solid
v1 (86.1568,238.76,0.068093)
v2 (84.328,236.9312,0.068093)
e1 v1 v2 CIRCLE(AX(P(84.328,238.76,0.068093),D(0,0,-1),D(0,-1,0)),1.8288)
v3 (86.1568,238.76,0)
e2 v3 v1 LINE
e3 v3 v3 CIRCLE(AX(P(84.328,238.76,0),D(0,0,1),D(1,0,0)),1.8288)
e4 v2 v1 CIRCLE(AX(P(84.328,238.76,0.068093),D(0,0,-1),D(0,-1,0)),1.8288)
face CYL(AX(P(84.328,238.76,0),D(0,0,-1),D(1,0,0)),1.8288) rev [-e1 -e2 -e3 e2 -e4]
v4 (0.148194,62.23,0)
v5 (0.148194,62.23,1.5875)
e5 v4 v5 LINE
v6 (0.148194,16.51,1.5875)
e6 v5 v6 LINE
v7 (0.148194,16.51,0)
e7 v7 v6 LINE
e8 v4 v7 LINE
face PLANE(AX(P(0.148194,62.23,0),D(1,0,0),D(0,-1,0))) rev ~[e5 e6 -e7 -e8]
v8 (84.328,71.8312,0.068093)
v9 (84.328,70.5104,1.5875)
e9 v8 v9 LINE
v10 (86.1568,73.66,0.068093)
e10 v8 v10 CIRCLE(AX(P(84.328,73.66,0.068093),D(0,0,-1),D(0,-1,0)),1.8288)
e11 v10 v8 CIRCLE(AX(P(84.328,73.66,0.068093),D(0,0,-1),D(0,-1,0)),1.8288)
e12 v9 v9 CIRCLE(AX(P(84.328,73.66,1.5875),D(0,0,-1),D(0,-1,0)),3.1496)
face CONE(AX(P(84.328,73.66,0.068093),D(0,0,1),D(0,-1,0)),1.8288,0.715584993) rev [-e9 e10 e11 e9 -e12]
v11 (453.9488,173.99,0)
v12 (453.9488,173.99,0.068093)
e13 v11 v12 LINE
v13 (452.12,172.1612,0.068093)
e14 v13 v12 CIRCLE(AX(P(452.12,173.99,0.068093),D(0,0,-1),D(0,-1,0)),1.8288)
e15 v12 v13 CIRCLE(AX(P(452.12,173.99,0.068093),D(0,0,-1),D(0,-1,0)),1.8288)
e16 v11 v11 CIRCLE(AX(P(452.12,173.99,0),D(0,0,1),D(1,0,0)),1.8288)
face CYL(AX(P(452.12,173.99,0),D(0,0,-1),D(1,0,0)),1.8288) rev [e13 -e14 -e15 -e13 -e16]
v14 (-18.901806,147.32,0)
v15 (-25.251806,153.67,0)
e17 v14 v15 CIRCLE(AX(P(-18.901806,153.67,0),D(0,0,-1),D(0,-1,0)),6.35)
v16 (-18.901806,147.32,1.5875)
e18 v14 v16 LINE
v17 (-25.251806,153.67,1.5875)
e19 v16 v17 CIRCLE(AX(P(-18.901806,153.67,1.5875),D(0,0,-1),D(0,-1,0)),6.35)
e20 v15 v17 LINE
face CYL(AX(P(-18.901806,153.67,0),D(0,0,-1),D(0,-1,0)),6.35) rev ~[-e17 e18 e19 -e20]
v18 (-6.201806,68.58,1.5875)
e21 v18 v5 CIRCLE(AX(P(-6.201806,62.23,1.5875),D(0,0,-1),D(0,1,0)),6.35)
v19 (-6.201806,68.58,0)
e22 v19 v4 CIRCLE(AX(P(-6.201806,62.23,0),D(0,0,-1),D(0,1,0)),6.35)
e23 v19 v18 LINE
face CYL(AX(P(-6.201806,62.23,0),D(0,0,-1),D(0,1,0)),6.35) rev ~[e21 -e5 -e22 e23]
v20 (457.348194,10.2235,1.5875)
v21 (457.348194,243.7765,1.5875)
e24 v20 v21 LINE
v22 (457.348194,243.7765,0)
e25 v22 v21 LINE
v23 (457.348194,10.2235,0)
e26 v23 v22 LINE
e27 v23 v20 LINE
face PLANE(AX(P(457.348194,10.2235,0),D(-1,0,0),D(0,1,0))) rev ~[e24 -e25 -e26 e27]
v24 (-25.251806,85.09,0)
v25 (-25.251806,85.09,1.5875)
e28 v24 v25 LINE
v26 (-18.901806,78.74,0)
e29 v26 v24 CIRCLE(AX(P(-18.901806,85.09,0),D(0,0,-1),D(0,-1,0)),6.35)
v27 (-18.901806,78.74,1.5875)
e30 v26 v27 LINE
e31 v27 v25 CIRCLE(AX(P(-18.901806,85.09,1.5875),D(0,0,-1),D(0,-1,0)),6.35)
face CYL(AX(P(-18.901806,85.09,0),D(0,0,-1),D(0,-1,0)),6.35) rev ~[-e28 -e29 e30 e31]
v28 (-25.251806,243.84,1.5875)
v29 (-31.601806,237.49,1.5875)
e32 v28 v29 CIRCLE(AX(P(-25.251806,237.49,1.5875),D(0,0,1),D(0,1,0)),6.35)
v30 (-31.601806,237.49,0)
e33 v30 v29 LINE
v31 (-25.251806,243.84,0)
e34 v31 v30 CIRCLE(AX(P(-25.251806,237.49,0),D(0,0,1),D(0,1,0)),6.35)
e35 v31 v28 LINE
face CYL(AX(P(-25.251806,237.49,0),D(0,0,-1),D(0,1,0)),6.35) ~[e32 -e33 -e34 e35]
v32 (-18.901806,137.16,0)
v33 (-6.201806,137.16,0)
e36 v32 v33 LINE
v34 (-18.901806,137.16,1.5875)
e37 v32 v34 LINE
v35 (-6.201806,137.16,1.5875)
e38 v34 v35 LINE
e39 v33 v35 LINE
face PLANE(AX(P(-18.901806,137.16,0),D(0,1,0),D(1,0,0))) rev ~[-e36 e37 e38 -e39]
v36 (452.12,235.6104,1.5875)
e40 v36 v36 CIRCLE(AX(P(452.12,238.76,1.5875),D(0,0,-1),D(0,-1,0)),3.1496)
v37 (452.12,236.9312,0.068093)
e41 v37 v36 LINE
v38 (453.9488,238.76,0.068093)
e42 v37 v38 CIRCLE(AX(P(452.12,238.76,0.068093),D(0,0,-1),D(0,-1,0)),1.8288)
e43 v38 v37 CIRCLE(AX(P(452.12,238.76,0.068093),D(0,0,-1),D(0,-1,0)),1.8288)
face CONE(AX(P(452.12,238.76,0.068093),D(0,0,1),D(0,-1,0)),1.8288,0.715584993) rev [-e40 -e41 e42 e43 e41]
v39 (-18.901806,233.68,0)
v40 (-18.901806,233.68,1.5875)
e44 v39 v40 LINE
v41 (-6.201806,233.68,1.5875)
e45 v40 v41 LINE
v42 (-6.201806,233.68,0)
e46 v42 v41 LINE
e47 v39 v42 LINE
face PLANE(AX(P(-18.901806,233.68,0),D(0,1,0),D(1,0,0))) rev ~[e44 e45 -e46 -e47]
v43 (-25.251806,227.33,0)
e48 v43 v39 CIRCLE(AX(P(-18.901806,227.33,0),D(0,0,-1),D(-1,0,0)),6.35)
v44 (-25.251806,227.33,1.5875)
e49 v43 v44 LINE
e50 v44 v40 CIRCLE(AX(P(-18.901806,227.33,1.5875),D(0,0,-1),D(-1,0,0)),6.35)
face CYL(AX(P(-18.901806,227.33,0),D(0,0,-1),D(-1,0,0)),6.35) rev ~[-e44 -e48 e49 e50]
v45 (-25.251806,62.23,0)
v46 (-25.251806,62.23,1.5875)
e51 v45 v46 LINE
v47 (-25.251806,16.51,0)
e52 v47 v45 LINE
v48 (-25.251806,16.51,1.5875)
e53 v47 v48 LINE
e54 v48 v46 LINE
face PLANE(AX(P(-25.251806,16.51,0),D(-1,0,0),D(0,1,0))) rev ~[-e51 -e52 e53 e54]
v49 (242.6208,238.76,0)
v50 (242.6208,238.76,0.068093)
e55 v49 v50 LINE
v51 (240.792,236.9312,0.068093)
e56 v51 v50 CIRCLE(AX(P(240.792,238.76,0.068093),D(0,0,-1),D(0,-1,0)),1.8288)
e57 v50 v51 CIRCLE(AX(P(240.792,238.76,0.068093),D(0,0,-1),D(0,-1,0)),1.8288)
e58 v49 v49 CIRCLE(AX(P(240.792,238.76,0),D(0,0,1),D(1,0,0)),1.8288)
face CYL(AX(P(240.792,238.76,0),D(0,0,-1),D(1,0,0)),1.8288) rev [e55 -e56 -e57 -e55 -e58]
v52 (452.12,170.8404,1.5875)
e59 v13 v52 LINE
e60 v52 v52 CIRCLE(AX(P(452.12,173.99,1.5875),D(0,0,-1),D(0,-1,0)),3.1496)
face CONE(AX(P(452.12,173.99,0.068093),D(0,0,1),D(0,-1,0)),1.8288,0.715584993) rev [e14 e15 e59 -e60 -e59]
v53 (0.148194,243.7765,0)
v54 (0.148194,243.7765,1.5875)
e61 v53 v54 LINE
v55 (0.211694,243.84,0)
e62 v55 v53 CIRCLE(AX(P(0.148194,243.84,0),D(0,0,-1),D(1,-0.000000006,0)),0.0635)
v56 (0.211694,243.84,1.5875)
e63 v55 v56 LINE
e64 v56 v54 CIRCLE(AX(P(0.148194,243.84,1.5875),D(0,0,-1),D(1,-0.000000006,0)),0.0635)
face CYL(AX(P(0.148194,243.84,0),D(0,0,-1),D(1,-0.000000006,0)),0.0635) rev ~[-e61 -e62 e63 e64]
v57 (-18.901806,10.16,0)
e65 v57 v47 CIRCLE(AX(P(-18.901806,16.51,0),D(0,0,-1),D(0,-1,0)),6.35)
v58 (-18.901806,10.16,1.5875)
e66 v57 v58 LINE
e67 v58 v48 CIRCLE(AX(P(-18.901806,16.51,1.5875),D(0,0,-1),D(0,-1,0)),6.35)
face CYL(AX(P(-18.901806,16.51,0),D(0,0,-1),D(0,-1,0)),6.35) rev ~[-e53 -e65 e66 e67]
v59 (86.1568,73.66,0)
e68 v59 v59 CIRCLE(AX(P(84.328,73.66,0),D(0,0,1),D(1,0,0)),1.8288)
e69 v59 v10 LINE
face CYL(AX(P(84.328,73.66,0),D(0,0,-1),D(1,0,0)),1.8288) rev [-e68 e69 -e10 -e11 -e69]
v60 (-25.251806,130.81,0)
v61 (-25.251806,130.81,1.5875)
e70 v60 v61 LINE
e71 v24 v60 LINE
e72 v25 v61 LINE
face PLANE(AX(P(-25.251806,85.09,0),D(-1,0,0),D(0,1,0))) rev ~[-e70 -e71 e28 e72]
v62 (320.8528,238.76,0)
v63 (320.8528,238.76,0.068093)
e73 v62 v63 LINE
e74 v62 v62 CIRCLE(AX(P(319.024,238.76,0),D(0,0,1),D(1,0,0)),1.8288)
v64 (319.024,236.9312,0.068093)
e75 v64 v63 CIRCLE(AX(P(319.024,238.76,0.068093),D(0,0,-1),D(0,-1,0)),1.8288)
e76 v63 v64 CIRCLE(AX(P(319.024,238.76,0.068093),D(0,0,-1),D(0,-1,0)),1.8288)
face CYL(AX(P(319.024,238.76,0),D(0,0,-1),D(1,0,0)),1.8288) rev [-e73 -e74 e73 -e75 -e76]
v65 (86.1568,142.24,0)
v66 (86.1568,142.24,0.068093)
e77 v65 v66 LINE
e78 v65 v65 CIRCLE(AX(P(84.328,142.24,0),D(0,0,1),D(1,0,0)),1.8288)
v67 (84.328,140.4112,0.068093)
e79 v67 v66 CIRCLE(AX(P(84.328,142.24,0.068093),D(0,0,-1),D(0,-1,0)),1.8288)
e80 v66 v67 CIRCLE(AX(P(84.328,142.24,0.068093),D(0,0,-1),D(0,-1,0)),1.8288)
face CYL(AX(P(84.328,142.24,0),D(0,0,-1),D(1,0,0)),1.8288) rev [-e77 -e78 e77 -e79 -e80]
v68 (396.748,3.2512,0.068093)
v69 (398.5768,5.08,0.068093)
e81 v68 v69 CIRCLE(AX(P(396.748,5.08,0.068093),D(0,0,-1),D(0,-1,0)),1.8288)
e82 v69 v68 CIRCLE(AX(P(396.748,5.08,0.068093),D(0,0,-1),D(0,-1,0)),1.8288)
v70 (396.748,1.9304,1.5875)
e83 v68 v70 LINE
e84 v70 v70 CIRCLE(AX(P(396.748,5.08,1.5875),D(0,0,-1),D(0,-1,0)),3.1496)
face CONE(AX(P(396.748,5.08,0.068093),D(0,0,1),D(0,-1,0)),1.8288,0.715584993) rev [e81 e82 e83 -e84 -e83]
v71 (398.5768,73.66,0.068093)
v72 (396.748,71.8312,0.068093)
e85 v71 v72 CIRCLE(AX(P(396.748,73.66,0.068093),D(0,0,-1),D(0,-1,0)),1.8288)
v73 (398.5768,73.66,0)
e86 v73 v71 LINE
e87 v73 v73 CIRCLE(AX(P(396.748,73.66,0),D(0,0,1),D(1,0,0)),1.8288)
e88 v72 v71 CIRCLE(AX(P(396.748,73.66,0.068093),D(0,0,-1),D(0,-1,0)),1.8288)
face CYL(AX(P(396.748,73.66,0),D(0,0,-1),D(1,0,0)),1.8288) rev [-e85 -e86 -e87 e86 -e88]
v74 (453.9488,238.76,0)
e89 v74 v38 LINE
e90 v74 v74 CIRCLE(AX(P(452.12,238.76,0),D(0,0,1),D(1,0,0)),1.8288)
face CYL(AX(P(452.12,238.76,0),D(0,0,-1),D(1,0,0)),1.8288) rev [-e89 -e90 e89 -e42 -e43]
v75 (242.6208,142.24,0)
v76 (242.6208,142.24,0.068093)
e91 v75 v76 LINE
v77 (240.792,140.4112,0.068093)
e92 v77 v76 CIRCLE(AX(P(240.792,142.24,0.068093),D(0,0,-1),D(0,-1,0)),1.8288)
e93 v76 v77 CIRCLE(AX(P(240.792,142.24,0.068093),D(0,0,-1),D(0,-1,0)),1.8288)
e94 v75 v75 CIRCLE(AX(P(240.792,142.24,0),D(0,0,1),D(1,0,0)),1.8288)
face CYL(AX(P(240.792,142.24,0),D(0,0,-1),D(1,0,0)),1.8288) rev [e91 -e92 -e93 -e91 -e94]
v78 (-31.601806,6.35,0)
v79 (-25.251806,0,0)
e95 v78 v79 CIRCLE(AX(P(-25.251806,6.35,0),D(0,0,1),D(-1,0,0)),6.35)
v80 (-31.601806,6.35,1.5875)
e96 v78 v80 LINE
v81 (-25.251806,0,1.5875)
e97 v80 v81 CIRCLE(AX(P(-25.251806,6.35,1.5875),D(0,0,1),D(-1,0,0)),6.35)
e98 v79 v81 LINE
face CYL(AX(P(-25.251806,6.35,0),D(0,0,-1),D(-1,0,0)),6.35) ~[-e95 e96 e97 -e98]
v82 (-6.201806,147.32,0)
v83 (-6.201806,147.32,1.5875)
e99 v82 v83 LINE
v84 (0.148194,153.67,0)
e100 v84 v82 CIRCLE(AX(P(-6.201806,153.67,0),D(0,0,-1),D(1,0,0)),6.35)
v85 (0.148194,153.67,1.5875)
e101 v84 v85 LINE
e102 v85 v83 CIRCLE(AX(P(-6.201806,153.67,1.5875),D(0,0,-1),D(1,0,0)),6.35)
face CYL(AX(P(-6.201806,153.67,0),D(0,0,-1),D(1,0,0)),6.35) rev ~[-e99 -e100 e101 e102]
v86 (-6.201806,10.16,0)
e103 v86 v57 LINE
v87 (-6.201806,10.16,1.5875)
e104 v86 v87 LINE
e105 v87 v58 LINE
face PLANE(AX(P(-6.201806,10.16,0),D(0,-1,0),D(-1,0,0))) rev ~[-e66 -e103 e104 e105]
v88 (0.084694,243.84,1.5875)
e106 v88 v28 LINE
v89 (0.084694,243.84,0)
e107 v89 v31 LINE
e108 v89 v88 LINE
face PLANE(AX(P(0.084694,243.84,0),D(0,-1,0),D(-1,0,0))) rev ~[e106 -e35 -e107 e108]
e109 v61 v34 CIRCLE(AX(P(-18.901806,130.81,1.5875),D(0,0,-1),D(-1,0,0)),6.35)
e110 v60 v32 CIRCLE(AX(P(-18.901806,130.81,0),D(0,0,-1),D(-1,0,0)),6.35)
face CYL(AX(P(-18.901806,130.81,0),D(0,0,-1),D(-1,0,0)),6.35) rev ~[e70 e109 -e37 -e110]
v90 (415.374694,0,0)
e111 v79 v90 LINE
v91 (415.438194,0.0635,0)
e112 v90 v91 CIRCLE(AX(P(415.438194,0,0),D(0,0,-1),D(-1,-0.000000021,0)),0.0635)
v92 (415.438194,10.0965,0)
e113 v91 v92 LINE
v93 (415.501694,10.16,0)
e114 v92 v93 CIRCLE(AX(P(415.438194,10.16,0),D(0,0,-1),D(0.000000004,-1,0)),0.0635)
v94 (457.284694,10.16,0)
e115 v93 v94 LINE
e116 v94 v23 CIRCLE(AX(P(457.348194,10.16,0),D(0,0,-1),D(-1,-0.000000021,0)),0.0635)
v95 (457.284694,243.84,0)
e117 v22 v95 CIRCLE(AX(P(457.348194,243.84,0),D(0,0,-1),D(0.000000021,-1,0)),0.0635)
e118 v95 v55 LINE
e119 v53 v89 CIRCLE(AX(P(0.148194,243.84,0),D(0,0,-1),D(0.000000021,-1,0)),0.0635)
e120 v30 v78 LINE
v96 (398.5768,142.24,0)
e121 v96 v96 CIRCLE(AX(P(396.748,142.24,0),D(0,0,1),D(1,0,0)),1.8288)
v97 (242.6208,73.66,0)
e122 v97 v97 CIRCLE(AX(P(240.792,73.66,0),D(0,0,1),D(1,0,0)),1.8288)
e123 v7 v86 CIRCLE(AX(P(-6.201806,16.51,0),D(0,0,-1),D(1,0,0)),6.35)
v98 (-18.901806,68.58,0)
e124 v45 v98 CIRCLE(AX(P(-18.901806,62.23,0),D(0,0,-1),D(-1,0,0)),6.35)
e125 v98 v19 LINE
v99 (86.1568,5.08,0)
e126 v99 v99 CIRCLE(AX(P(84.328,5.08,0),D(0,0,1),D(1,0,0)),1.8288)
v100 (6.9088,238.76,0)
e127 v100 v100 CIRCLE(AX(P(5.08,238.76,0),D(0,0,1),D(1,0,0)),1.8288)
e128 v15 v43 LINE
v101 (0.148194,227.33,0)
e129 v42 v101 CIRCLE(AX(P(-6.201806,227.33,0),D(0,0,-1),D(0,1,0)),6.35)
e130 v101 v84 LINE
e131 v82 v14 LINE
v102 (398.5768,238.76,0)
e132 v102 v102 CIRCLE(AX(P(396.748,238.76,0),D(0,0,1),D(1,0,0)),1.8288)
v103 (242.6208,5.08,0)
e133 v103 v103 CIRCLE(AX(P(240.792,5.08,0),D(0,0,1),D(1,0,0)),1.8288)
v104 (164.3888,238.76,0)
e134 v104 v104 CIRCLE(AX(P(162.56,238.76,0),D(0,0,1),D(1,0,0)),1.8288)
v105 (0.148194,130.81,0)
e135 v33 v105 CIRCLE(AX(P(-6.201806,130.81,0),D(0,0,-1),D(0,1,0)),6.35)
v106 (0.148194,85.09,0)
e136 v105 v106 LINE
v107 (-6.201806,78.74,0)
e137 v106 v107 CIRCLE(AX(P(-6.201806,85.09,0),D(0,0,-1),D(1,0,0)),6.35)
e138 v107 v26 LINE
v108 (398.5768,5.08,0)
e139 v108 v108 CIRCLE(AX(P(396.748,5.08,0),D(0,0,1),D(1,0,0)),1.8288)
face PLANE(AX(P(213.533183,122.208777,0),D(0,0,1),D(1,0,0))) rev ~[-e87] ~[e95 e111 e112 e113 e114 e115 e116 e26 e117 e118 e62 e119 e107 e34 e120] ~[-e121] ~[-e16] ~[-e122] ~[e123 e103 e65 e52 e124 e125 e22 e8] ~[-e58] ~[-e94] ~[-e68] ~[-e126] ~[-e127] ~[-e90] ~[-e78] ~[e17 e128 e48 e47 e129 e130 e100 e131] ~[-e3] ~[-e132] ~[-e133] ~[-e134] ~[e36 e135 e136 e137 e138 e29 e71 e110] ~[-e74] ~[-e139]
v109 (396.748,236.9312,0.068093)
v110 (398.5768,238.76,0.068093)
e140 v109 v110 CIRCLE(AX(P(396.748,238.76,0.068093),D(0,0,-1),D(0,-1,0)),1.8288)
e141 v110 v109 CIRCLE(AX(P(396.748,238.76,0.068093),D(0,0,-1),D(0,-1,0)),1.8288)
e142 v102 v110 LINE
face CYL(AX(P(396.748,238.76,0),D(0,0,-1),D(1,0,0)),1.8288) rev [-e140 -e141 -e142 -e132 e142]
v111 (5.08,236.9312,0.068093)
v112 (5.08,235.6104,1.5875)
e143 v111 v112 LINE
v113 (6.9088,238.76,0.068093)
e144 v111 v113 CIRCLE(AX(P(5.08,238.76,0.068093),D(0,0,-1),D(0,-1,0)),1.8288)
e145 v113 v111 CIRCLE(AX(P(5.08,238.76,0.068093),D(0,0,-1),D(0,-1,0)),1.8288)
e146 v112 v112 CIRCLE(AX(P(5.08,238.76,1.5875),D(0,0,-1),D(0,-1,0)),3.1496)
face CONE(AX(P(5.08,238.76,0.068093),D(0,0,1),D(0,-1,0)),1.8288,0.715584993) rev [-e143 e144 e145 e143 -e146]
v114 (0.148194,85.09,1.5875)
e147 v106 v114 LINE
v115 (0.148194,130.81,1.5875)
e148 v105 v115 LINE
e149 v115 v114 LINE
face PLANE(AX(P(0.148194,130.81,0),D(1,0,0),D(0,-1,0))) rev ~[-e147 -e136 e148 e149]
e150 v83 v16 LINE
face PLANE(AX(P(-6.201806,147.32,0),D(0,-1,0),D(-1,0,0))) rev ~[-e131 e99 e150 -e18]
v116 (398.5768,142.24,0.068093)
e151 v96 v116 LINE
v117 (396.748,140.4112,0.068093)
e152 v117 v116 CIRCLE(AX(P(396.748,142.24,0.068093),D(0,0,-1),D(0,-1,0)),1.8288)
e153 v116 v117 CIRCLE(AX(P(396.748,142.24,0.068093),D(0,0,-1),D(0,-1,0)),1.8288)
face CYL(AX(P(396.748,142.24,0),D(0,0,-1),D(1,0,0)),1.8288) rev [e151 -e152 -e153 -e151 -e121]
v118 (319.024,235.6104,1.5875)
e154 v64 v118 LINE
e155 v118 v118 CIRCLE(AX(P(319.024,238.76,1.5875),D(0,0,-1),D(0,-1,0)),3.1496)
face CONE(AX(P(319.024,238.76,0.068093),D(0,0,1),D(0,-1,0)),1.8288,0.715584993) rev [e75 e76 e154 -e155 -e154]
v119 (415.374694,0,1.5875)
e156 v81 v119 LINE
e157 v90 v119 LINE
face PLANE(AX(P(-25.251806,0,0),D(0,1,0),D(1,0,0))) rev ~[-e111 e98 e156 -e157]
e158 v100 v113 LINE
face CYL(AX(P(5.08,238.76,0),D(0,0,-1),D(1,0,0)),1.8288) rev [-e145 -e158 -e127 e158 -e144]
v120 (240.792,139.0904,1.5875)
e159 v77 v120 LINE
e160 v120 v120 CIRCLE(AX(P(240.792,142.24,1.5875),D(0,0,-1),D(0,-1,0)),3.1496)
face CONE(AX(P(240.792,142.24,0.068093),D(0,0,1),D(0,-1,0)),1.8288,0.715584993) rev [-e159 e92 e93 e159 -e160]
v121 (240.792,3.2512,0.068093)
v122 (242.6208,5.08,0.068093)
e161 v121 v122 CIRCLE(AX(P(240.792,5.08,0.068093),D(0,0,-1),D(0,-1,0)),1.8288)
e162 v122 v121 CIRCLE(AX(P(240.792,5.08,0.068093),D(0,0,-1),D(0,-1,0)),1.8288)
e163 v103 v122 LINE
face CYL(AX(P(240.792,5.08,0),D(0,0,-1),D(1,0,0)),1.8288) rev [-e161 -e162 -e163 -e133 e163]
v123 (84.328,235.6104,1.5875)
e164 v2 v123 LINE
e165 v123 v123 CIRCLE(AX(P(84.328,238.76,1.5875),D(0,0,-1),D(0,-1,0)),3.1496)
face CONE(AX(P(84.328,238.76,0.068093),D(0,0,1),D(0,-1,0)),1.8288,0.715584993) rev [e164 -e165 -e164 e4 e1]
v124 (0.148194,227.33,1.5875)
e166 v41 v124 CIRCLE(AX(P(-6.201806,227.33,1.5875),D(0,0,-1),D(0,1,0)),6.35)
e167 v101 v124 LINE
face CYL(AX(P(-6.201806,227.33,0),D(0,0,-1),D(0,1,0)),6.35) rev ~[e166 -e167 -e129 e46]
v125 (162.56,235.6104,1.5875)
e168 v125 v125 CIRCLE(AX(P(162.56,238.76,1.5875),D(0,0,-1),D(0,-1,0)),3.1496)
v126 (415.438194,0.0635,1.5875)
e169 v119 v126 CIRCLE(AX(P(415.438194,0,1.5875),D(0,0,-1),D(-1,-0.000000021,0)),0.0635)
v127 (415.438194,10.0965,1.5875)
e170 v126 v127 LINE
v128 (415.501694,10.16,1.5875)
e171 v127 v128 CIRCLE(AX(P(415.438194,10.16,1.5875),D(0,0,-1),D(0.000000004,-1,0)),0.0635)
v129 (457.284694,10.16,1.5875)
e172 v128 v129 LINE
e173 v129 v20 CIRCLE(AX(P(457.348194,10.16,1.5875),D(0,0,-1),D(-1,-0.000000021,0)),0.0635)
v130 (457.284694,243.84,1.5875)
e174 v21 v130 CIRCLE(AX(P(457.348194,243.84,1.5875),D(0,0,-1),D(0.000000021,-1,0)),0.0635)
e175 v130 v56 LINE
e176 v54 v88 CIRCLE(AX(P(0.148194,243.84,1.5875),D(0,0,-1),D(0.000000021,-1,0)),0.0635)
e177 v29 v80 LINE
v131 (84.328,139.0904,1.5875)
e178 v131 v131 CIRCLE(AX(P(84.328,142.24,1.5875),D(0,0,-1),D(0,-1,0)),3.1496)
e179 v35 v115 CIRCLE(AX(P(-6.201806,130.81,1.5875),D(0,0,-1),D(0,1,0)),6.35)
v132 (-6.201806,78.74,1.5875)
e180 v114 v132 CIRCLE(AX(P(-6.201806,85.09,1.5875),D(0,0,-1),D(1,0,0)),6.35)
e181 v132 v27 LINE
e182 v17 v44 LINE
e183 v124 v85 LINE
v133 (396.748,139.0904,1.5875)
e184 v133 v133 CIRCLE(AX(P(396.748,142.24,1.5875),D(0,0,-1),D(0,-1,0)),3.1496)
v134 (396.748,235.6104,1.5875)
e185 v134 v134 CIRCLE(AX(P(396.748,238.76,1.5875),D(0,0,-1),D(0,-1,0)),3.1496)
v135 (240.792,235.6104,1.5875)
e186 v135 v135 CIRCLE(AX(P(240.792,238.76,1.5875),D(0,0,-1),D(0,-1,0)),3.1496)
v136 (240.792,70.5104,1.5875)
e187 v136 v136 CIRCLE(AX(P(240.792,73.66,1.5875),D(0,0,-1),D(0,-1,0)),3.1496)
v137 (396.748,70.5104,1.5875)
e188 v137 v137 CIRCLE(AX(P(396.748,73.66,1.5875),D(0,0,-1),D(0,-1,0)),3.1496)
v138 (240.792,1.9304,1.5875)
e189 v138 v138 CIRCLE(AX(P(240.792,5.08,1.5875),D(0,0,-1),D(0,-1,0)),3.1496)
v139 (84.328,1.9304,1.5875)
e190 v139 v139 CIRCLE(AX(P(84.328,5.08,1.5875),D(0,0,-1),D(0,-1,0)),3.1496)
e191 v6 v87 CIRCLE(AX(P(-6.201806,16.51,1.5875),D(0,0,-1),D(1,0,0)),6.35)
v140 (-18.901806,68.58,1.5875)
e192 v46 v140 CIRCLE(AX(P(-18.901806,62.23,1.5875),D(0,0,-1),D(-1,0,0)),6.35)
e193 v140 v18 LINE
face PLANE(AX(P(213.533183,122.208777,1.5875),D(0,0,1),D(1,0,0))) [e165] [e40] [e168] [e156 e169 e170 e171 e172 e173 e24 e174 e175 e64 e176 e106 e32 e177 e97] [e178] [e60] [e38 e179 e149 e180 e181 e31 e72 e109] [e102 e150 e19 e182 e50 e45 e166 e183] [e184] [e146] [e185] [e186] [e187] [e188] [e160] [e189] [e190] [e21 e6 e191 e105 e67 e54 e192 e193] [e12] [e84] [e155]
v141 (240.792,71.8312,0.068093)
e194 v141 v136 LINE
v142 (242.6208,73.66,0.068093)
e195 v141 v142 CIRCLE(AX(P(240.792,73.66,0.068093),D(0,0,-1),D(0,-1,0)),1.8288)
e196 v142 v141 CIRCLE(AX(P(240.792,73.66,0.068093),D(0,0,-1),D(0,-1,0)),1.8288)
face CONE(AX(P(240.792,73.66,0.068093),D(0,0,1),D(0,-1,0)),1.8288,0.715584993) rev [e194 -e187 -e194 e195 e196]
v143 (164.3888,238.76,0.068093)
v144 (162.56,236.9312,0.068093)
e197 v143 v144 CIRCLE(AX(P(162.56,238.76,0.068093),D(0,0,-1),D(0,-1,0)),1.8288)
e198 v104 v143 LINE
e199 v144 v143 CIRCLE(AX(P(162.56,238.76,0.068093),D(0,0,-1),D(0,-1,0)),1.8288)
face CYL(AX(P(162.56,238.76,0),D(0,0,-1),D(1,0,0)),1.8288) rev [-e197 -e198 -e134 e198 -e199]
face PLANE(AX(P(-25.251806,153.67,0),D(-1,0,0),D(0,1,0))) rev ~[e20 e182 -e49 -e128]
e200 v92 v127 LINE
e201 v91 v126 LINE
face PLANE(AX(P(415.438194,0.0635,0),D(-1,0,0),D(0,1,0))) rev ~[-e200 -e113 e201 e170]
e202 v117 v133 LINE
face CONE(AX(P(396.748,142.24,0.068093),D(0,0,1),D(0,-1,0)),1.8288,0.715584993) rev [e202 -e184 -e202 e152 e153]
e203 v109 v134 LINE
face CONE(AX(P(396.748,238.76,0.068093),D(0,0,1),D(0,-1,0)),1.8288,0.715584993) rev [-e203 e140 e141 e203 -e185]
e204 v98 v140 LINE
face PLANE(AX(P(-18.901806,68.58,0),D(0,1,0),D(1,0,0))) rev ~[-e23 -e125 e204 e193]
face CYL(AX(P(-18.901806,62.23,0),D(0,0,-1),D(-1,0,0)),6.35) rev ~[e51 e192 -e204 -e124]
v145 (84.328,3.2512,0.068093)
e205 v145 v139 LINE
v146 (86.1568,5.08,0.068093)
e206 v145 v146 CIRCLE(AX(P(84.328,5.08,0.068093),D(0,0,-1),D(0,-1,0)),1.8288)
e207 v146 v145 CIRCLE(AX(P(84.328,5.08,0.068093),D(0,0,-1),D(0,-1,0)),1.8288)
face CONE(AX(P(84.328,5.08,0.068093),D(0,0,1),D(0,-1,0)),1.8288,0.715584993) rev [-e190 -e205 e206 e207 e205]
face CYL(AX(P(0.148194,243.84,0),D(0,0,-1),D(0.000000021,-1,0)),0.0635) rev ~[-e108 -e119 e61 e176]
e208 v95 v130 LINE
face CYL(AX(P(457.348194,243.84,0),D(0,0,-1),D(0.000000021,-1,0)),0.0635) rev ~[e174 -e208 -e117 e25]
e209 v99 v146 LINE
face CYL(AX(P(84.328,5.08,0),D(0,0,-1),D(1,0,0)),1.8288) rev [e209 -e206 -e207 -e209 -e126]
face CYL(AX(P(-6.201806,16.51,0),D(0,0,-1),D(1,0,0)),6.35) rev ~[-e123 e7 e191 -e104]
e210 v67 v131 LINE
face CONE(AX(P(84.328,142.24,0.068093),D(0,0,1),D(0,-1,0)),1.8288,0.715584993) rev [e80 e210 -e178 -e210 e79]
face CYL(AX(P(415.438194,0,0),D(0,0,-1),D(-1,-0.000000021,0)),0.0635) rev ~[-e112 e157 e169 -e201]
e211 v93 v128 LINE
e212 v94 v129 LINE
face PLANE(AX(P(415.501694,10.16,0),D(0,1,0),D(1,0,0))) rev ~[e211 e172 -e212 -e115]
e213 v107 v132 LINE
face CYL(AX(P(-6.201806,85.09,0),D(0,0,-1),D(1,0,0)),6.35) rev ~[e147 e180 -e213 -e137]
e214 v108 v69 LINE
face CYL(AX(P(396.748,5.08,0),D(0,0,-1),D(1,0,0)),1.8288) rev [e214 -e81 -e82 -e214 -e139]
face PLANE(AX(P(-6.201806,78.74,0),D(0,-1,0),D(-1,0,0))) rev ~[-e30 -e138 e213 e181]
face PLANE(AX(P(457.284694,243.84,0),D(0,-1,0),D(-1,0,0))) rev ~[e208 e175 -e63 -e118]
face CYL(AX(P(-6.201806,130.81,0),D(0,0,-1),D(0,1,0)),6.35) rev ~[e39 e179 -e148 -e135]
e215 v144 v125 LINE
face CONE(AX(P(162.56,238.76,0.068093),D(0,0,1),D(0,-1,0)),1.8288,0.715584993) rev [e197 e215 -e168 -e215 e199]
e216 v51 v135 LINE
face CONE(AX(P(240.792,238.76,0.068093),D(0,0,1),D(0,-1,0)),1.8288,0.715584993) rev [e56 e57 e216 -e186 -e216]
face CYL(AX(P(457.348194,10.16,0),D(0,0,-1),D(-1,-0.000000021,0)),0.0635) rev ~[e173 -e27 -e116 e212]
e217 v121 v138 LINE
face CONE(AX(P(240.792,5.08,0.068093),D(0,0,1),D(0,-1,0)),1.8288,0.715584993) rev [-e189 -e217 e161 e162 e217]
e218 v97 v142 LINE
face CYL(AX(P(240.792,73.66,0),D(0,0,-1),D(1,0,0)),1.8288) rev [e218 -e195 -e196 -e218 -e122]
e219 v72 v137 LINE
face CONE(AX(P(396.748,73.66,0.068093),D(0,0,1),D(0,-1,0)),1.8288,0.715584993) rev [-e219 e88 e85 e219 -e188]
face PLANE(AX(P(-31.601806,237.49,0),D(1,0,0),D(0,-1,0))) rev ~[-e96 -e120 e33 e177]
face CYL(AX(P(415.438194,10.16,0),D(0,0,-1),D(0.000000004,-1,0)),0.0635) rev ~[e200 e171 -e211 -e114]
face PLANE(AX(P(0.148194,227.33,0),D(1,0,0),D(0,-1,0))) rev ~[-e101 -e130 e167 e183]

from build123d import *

# Parameters (mm, degrees)
MODEL_R                                       = 1.8288
BOSS_EXTRUDE2_DEPTH                           = 1.5875
CSK_FOR_6_FLAT_HEAD_MACHINE_SCREW2_AT_2_COUNT = 2
CSK_FOR_6_FLAT_HEAD_MACHINE_SCREW2_AT_2_PITCH = 79.248
CSK_FOR_6_FLAT_HEAD_MACHINE_SCREW2_AT_3_COUNT = 2
CSK_FOR_6_FLAT_HEAD_MACHINE_SCREW2_AT_3_PITCH = 157.48
CSK_FOR_6_FLAT_HEAD_MACHINE_SCREW2_AT_4_COUNT = 2
CSK_FOR_6_FLAT_HEAD_MACHINE_SCREW2_AT_4_PITCH = 235.712
CSK_FOR_6_FLAT_HEAD_MACHINE_SCREW2_AT_5_COUNT = 2
CSK_FOR_6_FLAT_HEAD_MACHINE_SCREW2_AT_5_PITCH = 313.944
CSK_FOR_6_FLAT_HEAD_MACHINE_SCREW2_AT_6_COUNT = 2
CSK_FOR_6_FLAT_HEAD_MACHINE_SCREW2_AT_6_PITCH = 391.668
CSK_FOR_6_FLAT_HEAD_MACHINE_SCREW2_AT_7_COUNT = 2
CSK_FOR_6_FLAT_HEAD_MACHINE_SCREW2_AT_7_PITCH = 447.04
CSK_FOR_6_FLAT_HEAD_MACHINE_SCREW2_AT_8_COUNT = 2
CSK_FOR_6_FLAT_HEAD_MACHINE_SCREW2_AT_8_PITCH = 451.707775558
CSK_FOR_6_FLAT_HEAD_MACHINE_SCREW2_AT_9_COUNT = 2
CSK_FOR_6_FLAT_HEAD_MACHINE_SCREW2_AT_9_PITCH = 403.385588022
CSK_FOR_6_FLAT_HEAD_MACHINE_SCREW2_AT_1_COUNT = 2
CSK_FOR_6_FLAT_HEAD_MACHINE_SCREW2_AT_1_PITCH = 425.043329819
CSK_FOR_6_FLAT_HEAD_MACHINE_SCREW2_2_COUNT    = 2
CSK_FOR_6_FLAT_HEAD_MACHINE_SCREW2_2_PITCH    = 456.08131361
CSK_FOR_6_FLAT_HEAD_MACHINE_SCREW2_3_COUNT    = 2
CSK_FOR_6_FLAT_HEAD_MACHINE_SCREW2_3_PITCH    = 331.913376266
CSK_FOR_6_FLAT_HEAD_MACHINE_SCREW2_4_COUNT    = 2
CSK_FOR_6_FLAT_HEAD_MACHINE_SCREW2_4_PITCH    = 287.78143954
CSK_FOR_6_FLAT_HEAD_MACHINE_SCREW2_5_COUNT    = 2
CSK_FOR_6_FLAT_HEAD_MACHINE_SCREW2_5_PITCH    = 254.708180756
CSK_FOR_6_FLAT_HEAD_MACHINE_SCREW2_6_COUNT    = 2
CSK_FOR_6_FLAT_HEAD_MACHINE_SCREW2_6_PITCH    = 124.885371057
CSK_FOR_6_FLAT_HEAD_MACHINE_SCREW2_7_COUNT    = 2
CSK_FOR_6_FLAT_HEAD_MACHINE_SCREW2_7_PITCH    = 183.134528432
CSK_FOR_6_FLAT_HEAD_MACHINE_SCREW2_8_COUNT    = 2
CSK_FOR_6_FLAT_HEAD_MACHINE_SCREW2_8_PITCH    = 246.752077811


with BuildPart() as part:
    # Model → Boss-Extrude2 (new body)
    with BuildSketch(Plane.XY):
        with BuildLine():
            Line((-25.251805612, 0), (0.148194388, 0))
            Line((0.148194388, 0), (415.374694388, 0))
            ThreePointArc((415.374694388, 0), (415.393293107, 0.044901281), (415.438194388, 0.0635))
            Line((415.438194388, 0.0635), (415.438194388, 10.0965))
            ThreePointArc((415.438194388, 10.0965), (415.393293107, 10.204901281), (415.501694388, 10.16))
            Line((415.501694388, 10.16), (457.284694388, 10.16))
            ThreePointArc((457.284694388, 10.16), (457.303293107, 10.204901281), (457.348194388, 10.2235))
            Line((457.348194388, 10.2235), (457.348194388, 243.7765))
            ThreePointArc((457.348194388, 243.7765), (457.303293107, 243.795098719), (457.284694388, 243.84))
            Line((457.284694388, 243.84), (0.211694388, 243.84))
            ThreePointArc((0.211694388, 243.84), (0.193095668, 243.795098719), (0.148194388, 243.7765))
            ThreePointArc((0.148194388, 243.7765), (0.103293107, 243.795098719), (0.084694388, 243.84))
            Line((0.084694388, 243.84), (-25.251805612, 243.84))
            ThreePointArc((-25.251805612, 243.84), (-29.741933673, 241.980128061), (-31.601805612, 237.49))
            Line((-31.601805612, 237.49), (-31.601805612, 6.35))
            ThreePointArc((-31.601805612, 6.35), (-29.741933673, 1.859871939), (-25.251805612, 0))
        make_face()
        with Locations((84.328, 5.08)):
            Circle(MODEL_R, mode=Mode.SUBTRACT)
        with BuildLine():
            Line((-18.901805612, 68.58), (-6.201805612, 68.58))
            ThreePointArc((-6.201805612, 68.58), (-1.711677552, 66.720128061), (0.148194388, 62.23))
            Line((0.148194388, 62.23), (0.148194388, 16.51))
            ThreePointArc((0.148194388, 16.51), (-1.711677552, 12.019871939), (-6.201805612, 10.16))
            Line((-6.201805612, 10.16), (-18.901805612, 10.16))
            ThreePointArc((-18.901805612, 10.16), (-23.391933673, 12.019871939), (-25.251805612, 16.51))
            Line((-25.251805612, 16.51), (-25.251805612, 62.23))
            ThreePointArc((-25.251805612, 62.23), (-23.391933673, 66.720128061), (-18.901805612, 68.58))
        make_face(mode=Mode.SUBTRACT)
        with Locations((84.328, 73.66)):
            Circle(MODEL_R, mode=Mode.SUBTRACT)
        with BuildLine():
            Line((-18.901805612, 137.16), (-6.201805612, 137.16))
            ThreePointArc((-6.201805612, 137.16), (-1.711677552, 135.300128061), (0.148194388, 130.81))
            Line((0.148194388, 130.81), (0.148194388, 85.09))
            ThreePointArc((0.148194388, 85.09), (-1.711677552, 80.599871939), (-6.201805612, 78.74))
            Line((-6.201805612, 78.74), (-18.901805612, 78.74))
            ThreePointArc((-18.901805612, 78.74), (-23.391933673, 80.599871939), (-25.251805612, 85.09))
            Line((-25.251805612, 85.09), (-25.251805612, 130.81))
            ThreePointArc((-25.251805612, 130.81), (-23.391933673, 135.300128061), (-18.901805612, 137.16))
        make_face(mode=Mode.SUBTRACT)
        with Locations((240.792, 5.08)):
            Circle(MODEL_R, mode=Mode.SUBTRACT)
        with Locations((396.748, 5.08)):
            Circle(MODEL_R, mode=Mode.SUBTRACT)
        with Locations((240.792, 73.66)):
            Circle(MODEL_R, mode=Mode.SUBTRACT)
        with Locations((396.748, 73.66)):
            Circle(MODEL_R, mode=Mode.SUBTRACT)
        with Locations((84.328, 142.24)):
            Circle(MODEL_R, mode=Mode.SUBTRACT)
        with BuildLine():
            ThreePointArc((-6.201805612, 233.68), (-1.711677552, 231.820128061), (0.148194388, 227.33))
            Line((0.148194388, 227.33), (0.148194388, 153.67))
            ThreePointArc((0.148194388, 153.67), (-1.711677552, 149.179871939), (-6.201805612, 147.32))
            Line((-6.201805612, 147.32), (-18.901805612, 147.32))
            ThreePointArc((-18.901805612, 147.32), (-23.391933673, 149.179871939), (-25.251805612, 153.67))
            Line((-25.251805612, 153.67), (-25.251805612, 227.33))
            ThreePointArc((-25.251805612, 227.33), (-23.391933673, 231.820128061), (-18.901805612, 233.68))
            Line((-18.901805612, 233.68), (-6.201805612, 233.68))
        make_face(mode=Mode.SUBTRACT)
        with Locations((5.08, 238.76)):
            Circle(MODEL_R, mode=Mode.SUBTRACT)
        with Locations((84.328, 238.76)):
            Circle(MODEL_R, mode=Mode.SUBTRACT)
        with Locations((162.56, 238.76)):
            Circle(MODEL_R, mode=Mode.SUBTRACT)
        with Locations((240.792, 142.24)):
            Circle(MODEL_R, mode=Mode.SUBTRACT)
        with Locations((396.748, 142.24)):
            Circle(MODEL_R, mode=Mode.SUBTRACT)
        with Locations((452.12, 173.99)):
            Circle(MODEL_R, mode=Mode.SUBTRACT)
        with Locations((240.792, 238.76)):
            Circle(MODEL_R, mode=Mode.SUBTRACT)
        with Locations((319.024, 238.76)):
            Circle(MODEL_R, mode=Mode.SUBTRACT)
        with Locations((396.748, 238.76)):
            Circle(MODEL_R, mode=Mode.SUBTRACT)
        with Locations((452.12, 238.76)):
            Circle(MODEL_R, mode=Mode.SUBTRACT)
    extrude(amount=BOSS_EXTRUDE2_DEPTH)

    # Sketch4 → CSK for #6 Flat Head Machine Screw2 (revolve, cut)
    with BuildSketch(Plane(origin=(5.08, 238.76, 1.5875), x_dir=(0, -1, 0), z_dir=(1, 0, 0))):
        Polygon((0, 0), (0, 1.5875), (1.8288, 1.5875), (1.8288, 1.519406592), (3.1496, 0), align=None)
    csk_for_6_flat_head_machine_screw2 = revolve(axis=Axis((5.08, 238.76, 7.9375), (0, 0, -1)), mode=Mode.SUBTRACT)

    # CSK for #6 Flat Head Machine Screw2 at 2: CSK for #6 Flat Head Machine Screw2 ×2
    with Locations(*[(i * CSK_FOR_6_FLAT_HEAD_MACHINE_SCREW2_AT_2_PITCH, 0, 0) for i in range(1, CSK_FOR_6_FLAT_HEAD_MACHINE_SCREW2_AT_2_COUNT)]):
        add(csk_for_6_flat_head_machine_screw2, mode=Mode.SUBTRACT)

    # CSK for #6 Flat Head Machine Screw2 at 3: CSK for #6 Flat Head Machine Screw2 ×2
    with Locations(*[(i * CSK_FOR_6_FLAT_HEAD_MACHINE_SCREW2_AT_3_PITCH, 0, 0) for i in range(1, CSK_FOR_6_FLAT_HEAD_MACHINE_SCREW2_AT_3_COUNT)]):
        add(csk_for_6_flat_head_machine_screw2, mode=Mode.SUBTRACT)

    # CSK for #6 Flat Head Machine Screw2 at 4: CSK for #6 Flat Head Machine Screw2 ×2
    with Locations(*[(i * CSK_FOR_6_FLAT_HEAD_MACHINE_SCREW2_AT_4_PITCH, 0, 0) for i in range(1, CSK_FOR_6_FLAT_HEAD_MACHINE_SCREW2_AT_4_COUNT)]):
        add(csk_for_6_flat_head_machine_screw2, mode=Mode.SUBTRACT)

    # CSK for #6 Flat Head Machine Screw2 at 5: CSK for #6 Flat Head Machine Screw2 ×2
    with Locations(*[(i * CSK_FOR_6_FLAT_HEAD_MACHINE_SCREW2_AT_5_PITCH, 0, 0) for i in range(1, CSK_FOR_6_FLAT_HEAD_MACHINE_SCREW2_AT_5_COUNT)]):
        add(csk_for_6_flat_head_machine_screw2, mode=Mode.SUBTRACT)

    # CSK for #6 Flat Head Machine Screw2 at 6: CSK for #6 Flat Head Machine Screw2 ×2
    with Locations(*[(i * CSK_FOR_6_FLAT_HEAD_MACHINE_SCREW2_AT_6_PITCH, 0, 0) for i in range(1, CSK_FOR_6_FLAT_HEAD_MACHINE_SCREW2_AT_6_COUNT)]):
        add(csk_for_6_flat_head_machine_screw2, mode=Mode.SUBTRACT)

    # CSK for #6 Flat Head Machine Screw2 at 7: CSK for #6 Flat Head Machine Screw2 ×2
    with Locations(*[(i * CSK_FOR_6_FLAT_HEAD_MACHINE_SCREW2_AT_7_PITCH, 0, 0) for i in range(1, CSK_FOR_6_FLAT_HEAD_MACHINE_SCREW2_AT_7_COUNT)]):
        add(csk_for_6_flat_head_machine_screw2, mode=Mode.SUBTRACT)

    # CSK for #6 Flat Head Machine Screw2 at 8: CSK for #6 Flat Head Machine Screw2 ×2
    with Locations(*[Vector(0.989666382, -0.143389163, 0) * (i * CSK_FOR_6_FLAT_HEAD_MACHINE_SCREW2_AT_8_PITCH) for i in range(1, CSK_FOR_6_FLAT_HEAD_MACHINE_SCREW2_AT_8_COUNT)]):
        add(csk_for_6_flat_head_machine_screw2, mode=Mode.SUBTRACT)

    # CSK for #6 Flat Head Machine Screw2 at 9: CSK for #6 Flat Head Machine Screw2 ×2
    with Locations(*[Vector(0.970951892, -0.239274785, 0) * (i * CSK_FOR_6_FLAT_HEAD_MACHINE_SCREW2_AT_9_PITCH) for i in range(1, CSK_FOR_6_FLAT_HEAD_MACHINE_SCREW2_AT_9_COUNT)]):
        add(csk_for_6_flat_head_machine_screw2, mode=Mode.SUBTRACT)

    # CSK for #6 Flat Head Machine Screw2 at 1: CSK for #6 Flat Head Machine Screw2 ×2
    with Locations(*[Vector(0.921477818, -0.388430987, 0) * (i * CSK_FOR_6_FLAT_HEAD_MACHINE_SCREW2_AT_1_PITCH) for i in range(1, CSK_FOR_6_FLAT_HEAD_MACHINE_SCREW2_AT_1_COUNT)]):
        add(csk_for_6_flat_head_machine_screw2, mode=Mode.SUBTRACT)

    # CSK for #6 Flat Head Machine Screw2  2: CSK for #6 Flat Head Machine Screw2 ×2
    with Locations(*[Vector(0.858767918, -0.512364776, 0) * (i * CSK_FOR_6_FLAT_HEAD_MACHINE_SCREW2_2_PITCH) for i in range(1, CSK_FOR_6_FLAT_HEAD_MACHINE_SCREW2_2_COUNT)]):
        add(csk_for_6_flat_head_machine_screw2, mode=Mode.SUBTRACT)

    # CSK for #6 Flat Head Machine Screw2  3: CSK for #6 Flat Head Machine Screw2 ×2
    with Locations(*[Vector(0.710161195, -0.704039116, 0) * (i * CSK_FOR_6_FLAT_HEAD_MACHINE_SCREW2_3_PITCH) for i in range(1, CSK_FOR_6_FLAT_HEAD_MACHINE_SCREW2_3_COUNT)]):
        add(csk_for_6_flat_head_machine_screw2, mode=Mode.SUBTRACT)

    # CSK for #6 Flat Head Machine Screw2  4: CSK for #6 Flat Head Machine Screw2 ×2
    with Locations(*[Vector(0.819066026, -0.573699264, 0) * (i * CSK_FOR_6_FLAT_HEAD_MACHINE_SCREW2_4_PITCH) for i in range(1, CSK_FOR_6_FLAT_HEAD_MACHINE_SCREW2_4_COUNT)]):
        add(csk_for_6_flat_head_machine_screw2, mode=Mode.SUBTRACT)

    # CSK for #6 Flat Head Machine Screw2  5: CSK for #6 Flat Head Machine Screw2 ×2
    with Locations(*[Vector(0.925419825, -0.378943463, 0) * (i * CSK_FOR_6_FLAT_HEAD_MACHINE_SCREW2_5_PITCH) for i in range(1, CSK_FOR_6_FLAT_HEAD_MACHINE_SCREW2_5_COUNT)]):
        add(csk_for_6_flat_head_machine_screw2, mode=Mode.SUBTRACT)

    # CSK for #6 Flat Head Machine Screw2  6: CSK for #6 Flat Head Machine Screw2 ×2
    with Locations(*[Vector(0.634565917, -0.772868745, 0) * (i * CSK_FOR_6_FLAT_HEAD_MACHINE_SCREW2_6_PITCH) for i in range(1, CSK_FOR_6_FLAT_HEAD_MACHINE_SCREW2_6_COUNT)]):
        add(csk_for_6_flat_head_machine_screw2, mode=Mode.SUBTRACT)

    # CSK for #6 Flat Head Machine Screw2  7: CSK for #6 Flat Head Machine Screw2 ×2
    with Locations(*[Vector(0.432731068, -0.901523057, 0) * (i * CSK_FOR_6_FLAT_HEAD_MACHINE_SCREW2_7_PITCH) for i in range(1, CSK_FOR_6_FLAT_HEAD_MACHINE_SCREW2_7_COUNT)]):
        add(csk_for_6_flat_head_machine_screw2, mode=Mode.SUBTRACT)

    # CSK for #6 Flat Head Machine Screw2  8: CSK for #6 Flat Head Machine Screw2 ×2
    with Locations(*[Vector(0.321164469, -0.947023434, 0) * (i * CSK_FOR_6_FLAT_HEAD_MACHINE_SCREW2_8_PITCH) for i in range(1, CSK_FOR_6_FLAT_HEAD_MACHINE_SCREW2_8_COUNT)]):
        add(csk_for_6_flat_head_machine_screw2, mode=Mode.SUBTRACT)


solid = part.part
